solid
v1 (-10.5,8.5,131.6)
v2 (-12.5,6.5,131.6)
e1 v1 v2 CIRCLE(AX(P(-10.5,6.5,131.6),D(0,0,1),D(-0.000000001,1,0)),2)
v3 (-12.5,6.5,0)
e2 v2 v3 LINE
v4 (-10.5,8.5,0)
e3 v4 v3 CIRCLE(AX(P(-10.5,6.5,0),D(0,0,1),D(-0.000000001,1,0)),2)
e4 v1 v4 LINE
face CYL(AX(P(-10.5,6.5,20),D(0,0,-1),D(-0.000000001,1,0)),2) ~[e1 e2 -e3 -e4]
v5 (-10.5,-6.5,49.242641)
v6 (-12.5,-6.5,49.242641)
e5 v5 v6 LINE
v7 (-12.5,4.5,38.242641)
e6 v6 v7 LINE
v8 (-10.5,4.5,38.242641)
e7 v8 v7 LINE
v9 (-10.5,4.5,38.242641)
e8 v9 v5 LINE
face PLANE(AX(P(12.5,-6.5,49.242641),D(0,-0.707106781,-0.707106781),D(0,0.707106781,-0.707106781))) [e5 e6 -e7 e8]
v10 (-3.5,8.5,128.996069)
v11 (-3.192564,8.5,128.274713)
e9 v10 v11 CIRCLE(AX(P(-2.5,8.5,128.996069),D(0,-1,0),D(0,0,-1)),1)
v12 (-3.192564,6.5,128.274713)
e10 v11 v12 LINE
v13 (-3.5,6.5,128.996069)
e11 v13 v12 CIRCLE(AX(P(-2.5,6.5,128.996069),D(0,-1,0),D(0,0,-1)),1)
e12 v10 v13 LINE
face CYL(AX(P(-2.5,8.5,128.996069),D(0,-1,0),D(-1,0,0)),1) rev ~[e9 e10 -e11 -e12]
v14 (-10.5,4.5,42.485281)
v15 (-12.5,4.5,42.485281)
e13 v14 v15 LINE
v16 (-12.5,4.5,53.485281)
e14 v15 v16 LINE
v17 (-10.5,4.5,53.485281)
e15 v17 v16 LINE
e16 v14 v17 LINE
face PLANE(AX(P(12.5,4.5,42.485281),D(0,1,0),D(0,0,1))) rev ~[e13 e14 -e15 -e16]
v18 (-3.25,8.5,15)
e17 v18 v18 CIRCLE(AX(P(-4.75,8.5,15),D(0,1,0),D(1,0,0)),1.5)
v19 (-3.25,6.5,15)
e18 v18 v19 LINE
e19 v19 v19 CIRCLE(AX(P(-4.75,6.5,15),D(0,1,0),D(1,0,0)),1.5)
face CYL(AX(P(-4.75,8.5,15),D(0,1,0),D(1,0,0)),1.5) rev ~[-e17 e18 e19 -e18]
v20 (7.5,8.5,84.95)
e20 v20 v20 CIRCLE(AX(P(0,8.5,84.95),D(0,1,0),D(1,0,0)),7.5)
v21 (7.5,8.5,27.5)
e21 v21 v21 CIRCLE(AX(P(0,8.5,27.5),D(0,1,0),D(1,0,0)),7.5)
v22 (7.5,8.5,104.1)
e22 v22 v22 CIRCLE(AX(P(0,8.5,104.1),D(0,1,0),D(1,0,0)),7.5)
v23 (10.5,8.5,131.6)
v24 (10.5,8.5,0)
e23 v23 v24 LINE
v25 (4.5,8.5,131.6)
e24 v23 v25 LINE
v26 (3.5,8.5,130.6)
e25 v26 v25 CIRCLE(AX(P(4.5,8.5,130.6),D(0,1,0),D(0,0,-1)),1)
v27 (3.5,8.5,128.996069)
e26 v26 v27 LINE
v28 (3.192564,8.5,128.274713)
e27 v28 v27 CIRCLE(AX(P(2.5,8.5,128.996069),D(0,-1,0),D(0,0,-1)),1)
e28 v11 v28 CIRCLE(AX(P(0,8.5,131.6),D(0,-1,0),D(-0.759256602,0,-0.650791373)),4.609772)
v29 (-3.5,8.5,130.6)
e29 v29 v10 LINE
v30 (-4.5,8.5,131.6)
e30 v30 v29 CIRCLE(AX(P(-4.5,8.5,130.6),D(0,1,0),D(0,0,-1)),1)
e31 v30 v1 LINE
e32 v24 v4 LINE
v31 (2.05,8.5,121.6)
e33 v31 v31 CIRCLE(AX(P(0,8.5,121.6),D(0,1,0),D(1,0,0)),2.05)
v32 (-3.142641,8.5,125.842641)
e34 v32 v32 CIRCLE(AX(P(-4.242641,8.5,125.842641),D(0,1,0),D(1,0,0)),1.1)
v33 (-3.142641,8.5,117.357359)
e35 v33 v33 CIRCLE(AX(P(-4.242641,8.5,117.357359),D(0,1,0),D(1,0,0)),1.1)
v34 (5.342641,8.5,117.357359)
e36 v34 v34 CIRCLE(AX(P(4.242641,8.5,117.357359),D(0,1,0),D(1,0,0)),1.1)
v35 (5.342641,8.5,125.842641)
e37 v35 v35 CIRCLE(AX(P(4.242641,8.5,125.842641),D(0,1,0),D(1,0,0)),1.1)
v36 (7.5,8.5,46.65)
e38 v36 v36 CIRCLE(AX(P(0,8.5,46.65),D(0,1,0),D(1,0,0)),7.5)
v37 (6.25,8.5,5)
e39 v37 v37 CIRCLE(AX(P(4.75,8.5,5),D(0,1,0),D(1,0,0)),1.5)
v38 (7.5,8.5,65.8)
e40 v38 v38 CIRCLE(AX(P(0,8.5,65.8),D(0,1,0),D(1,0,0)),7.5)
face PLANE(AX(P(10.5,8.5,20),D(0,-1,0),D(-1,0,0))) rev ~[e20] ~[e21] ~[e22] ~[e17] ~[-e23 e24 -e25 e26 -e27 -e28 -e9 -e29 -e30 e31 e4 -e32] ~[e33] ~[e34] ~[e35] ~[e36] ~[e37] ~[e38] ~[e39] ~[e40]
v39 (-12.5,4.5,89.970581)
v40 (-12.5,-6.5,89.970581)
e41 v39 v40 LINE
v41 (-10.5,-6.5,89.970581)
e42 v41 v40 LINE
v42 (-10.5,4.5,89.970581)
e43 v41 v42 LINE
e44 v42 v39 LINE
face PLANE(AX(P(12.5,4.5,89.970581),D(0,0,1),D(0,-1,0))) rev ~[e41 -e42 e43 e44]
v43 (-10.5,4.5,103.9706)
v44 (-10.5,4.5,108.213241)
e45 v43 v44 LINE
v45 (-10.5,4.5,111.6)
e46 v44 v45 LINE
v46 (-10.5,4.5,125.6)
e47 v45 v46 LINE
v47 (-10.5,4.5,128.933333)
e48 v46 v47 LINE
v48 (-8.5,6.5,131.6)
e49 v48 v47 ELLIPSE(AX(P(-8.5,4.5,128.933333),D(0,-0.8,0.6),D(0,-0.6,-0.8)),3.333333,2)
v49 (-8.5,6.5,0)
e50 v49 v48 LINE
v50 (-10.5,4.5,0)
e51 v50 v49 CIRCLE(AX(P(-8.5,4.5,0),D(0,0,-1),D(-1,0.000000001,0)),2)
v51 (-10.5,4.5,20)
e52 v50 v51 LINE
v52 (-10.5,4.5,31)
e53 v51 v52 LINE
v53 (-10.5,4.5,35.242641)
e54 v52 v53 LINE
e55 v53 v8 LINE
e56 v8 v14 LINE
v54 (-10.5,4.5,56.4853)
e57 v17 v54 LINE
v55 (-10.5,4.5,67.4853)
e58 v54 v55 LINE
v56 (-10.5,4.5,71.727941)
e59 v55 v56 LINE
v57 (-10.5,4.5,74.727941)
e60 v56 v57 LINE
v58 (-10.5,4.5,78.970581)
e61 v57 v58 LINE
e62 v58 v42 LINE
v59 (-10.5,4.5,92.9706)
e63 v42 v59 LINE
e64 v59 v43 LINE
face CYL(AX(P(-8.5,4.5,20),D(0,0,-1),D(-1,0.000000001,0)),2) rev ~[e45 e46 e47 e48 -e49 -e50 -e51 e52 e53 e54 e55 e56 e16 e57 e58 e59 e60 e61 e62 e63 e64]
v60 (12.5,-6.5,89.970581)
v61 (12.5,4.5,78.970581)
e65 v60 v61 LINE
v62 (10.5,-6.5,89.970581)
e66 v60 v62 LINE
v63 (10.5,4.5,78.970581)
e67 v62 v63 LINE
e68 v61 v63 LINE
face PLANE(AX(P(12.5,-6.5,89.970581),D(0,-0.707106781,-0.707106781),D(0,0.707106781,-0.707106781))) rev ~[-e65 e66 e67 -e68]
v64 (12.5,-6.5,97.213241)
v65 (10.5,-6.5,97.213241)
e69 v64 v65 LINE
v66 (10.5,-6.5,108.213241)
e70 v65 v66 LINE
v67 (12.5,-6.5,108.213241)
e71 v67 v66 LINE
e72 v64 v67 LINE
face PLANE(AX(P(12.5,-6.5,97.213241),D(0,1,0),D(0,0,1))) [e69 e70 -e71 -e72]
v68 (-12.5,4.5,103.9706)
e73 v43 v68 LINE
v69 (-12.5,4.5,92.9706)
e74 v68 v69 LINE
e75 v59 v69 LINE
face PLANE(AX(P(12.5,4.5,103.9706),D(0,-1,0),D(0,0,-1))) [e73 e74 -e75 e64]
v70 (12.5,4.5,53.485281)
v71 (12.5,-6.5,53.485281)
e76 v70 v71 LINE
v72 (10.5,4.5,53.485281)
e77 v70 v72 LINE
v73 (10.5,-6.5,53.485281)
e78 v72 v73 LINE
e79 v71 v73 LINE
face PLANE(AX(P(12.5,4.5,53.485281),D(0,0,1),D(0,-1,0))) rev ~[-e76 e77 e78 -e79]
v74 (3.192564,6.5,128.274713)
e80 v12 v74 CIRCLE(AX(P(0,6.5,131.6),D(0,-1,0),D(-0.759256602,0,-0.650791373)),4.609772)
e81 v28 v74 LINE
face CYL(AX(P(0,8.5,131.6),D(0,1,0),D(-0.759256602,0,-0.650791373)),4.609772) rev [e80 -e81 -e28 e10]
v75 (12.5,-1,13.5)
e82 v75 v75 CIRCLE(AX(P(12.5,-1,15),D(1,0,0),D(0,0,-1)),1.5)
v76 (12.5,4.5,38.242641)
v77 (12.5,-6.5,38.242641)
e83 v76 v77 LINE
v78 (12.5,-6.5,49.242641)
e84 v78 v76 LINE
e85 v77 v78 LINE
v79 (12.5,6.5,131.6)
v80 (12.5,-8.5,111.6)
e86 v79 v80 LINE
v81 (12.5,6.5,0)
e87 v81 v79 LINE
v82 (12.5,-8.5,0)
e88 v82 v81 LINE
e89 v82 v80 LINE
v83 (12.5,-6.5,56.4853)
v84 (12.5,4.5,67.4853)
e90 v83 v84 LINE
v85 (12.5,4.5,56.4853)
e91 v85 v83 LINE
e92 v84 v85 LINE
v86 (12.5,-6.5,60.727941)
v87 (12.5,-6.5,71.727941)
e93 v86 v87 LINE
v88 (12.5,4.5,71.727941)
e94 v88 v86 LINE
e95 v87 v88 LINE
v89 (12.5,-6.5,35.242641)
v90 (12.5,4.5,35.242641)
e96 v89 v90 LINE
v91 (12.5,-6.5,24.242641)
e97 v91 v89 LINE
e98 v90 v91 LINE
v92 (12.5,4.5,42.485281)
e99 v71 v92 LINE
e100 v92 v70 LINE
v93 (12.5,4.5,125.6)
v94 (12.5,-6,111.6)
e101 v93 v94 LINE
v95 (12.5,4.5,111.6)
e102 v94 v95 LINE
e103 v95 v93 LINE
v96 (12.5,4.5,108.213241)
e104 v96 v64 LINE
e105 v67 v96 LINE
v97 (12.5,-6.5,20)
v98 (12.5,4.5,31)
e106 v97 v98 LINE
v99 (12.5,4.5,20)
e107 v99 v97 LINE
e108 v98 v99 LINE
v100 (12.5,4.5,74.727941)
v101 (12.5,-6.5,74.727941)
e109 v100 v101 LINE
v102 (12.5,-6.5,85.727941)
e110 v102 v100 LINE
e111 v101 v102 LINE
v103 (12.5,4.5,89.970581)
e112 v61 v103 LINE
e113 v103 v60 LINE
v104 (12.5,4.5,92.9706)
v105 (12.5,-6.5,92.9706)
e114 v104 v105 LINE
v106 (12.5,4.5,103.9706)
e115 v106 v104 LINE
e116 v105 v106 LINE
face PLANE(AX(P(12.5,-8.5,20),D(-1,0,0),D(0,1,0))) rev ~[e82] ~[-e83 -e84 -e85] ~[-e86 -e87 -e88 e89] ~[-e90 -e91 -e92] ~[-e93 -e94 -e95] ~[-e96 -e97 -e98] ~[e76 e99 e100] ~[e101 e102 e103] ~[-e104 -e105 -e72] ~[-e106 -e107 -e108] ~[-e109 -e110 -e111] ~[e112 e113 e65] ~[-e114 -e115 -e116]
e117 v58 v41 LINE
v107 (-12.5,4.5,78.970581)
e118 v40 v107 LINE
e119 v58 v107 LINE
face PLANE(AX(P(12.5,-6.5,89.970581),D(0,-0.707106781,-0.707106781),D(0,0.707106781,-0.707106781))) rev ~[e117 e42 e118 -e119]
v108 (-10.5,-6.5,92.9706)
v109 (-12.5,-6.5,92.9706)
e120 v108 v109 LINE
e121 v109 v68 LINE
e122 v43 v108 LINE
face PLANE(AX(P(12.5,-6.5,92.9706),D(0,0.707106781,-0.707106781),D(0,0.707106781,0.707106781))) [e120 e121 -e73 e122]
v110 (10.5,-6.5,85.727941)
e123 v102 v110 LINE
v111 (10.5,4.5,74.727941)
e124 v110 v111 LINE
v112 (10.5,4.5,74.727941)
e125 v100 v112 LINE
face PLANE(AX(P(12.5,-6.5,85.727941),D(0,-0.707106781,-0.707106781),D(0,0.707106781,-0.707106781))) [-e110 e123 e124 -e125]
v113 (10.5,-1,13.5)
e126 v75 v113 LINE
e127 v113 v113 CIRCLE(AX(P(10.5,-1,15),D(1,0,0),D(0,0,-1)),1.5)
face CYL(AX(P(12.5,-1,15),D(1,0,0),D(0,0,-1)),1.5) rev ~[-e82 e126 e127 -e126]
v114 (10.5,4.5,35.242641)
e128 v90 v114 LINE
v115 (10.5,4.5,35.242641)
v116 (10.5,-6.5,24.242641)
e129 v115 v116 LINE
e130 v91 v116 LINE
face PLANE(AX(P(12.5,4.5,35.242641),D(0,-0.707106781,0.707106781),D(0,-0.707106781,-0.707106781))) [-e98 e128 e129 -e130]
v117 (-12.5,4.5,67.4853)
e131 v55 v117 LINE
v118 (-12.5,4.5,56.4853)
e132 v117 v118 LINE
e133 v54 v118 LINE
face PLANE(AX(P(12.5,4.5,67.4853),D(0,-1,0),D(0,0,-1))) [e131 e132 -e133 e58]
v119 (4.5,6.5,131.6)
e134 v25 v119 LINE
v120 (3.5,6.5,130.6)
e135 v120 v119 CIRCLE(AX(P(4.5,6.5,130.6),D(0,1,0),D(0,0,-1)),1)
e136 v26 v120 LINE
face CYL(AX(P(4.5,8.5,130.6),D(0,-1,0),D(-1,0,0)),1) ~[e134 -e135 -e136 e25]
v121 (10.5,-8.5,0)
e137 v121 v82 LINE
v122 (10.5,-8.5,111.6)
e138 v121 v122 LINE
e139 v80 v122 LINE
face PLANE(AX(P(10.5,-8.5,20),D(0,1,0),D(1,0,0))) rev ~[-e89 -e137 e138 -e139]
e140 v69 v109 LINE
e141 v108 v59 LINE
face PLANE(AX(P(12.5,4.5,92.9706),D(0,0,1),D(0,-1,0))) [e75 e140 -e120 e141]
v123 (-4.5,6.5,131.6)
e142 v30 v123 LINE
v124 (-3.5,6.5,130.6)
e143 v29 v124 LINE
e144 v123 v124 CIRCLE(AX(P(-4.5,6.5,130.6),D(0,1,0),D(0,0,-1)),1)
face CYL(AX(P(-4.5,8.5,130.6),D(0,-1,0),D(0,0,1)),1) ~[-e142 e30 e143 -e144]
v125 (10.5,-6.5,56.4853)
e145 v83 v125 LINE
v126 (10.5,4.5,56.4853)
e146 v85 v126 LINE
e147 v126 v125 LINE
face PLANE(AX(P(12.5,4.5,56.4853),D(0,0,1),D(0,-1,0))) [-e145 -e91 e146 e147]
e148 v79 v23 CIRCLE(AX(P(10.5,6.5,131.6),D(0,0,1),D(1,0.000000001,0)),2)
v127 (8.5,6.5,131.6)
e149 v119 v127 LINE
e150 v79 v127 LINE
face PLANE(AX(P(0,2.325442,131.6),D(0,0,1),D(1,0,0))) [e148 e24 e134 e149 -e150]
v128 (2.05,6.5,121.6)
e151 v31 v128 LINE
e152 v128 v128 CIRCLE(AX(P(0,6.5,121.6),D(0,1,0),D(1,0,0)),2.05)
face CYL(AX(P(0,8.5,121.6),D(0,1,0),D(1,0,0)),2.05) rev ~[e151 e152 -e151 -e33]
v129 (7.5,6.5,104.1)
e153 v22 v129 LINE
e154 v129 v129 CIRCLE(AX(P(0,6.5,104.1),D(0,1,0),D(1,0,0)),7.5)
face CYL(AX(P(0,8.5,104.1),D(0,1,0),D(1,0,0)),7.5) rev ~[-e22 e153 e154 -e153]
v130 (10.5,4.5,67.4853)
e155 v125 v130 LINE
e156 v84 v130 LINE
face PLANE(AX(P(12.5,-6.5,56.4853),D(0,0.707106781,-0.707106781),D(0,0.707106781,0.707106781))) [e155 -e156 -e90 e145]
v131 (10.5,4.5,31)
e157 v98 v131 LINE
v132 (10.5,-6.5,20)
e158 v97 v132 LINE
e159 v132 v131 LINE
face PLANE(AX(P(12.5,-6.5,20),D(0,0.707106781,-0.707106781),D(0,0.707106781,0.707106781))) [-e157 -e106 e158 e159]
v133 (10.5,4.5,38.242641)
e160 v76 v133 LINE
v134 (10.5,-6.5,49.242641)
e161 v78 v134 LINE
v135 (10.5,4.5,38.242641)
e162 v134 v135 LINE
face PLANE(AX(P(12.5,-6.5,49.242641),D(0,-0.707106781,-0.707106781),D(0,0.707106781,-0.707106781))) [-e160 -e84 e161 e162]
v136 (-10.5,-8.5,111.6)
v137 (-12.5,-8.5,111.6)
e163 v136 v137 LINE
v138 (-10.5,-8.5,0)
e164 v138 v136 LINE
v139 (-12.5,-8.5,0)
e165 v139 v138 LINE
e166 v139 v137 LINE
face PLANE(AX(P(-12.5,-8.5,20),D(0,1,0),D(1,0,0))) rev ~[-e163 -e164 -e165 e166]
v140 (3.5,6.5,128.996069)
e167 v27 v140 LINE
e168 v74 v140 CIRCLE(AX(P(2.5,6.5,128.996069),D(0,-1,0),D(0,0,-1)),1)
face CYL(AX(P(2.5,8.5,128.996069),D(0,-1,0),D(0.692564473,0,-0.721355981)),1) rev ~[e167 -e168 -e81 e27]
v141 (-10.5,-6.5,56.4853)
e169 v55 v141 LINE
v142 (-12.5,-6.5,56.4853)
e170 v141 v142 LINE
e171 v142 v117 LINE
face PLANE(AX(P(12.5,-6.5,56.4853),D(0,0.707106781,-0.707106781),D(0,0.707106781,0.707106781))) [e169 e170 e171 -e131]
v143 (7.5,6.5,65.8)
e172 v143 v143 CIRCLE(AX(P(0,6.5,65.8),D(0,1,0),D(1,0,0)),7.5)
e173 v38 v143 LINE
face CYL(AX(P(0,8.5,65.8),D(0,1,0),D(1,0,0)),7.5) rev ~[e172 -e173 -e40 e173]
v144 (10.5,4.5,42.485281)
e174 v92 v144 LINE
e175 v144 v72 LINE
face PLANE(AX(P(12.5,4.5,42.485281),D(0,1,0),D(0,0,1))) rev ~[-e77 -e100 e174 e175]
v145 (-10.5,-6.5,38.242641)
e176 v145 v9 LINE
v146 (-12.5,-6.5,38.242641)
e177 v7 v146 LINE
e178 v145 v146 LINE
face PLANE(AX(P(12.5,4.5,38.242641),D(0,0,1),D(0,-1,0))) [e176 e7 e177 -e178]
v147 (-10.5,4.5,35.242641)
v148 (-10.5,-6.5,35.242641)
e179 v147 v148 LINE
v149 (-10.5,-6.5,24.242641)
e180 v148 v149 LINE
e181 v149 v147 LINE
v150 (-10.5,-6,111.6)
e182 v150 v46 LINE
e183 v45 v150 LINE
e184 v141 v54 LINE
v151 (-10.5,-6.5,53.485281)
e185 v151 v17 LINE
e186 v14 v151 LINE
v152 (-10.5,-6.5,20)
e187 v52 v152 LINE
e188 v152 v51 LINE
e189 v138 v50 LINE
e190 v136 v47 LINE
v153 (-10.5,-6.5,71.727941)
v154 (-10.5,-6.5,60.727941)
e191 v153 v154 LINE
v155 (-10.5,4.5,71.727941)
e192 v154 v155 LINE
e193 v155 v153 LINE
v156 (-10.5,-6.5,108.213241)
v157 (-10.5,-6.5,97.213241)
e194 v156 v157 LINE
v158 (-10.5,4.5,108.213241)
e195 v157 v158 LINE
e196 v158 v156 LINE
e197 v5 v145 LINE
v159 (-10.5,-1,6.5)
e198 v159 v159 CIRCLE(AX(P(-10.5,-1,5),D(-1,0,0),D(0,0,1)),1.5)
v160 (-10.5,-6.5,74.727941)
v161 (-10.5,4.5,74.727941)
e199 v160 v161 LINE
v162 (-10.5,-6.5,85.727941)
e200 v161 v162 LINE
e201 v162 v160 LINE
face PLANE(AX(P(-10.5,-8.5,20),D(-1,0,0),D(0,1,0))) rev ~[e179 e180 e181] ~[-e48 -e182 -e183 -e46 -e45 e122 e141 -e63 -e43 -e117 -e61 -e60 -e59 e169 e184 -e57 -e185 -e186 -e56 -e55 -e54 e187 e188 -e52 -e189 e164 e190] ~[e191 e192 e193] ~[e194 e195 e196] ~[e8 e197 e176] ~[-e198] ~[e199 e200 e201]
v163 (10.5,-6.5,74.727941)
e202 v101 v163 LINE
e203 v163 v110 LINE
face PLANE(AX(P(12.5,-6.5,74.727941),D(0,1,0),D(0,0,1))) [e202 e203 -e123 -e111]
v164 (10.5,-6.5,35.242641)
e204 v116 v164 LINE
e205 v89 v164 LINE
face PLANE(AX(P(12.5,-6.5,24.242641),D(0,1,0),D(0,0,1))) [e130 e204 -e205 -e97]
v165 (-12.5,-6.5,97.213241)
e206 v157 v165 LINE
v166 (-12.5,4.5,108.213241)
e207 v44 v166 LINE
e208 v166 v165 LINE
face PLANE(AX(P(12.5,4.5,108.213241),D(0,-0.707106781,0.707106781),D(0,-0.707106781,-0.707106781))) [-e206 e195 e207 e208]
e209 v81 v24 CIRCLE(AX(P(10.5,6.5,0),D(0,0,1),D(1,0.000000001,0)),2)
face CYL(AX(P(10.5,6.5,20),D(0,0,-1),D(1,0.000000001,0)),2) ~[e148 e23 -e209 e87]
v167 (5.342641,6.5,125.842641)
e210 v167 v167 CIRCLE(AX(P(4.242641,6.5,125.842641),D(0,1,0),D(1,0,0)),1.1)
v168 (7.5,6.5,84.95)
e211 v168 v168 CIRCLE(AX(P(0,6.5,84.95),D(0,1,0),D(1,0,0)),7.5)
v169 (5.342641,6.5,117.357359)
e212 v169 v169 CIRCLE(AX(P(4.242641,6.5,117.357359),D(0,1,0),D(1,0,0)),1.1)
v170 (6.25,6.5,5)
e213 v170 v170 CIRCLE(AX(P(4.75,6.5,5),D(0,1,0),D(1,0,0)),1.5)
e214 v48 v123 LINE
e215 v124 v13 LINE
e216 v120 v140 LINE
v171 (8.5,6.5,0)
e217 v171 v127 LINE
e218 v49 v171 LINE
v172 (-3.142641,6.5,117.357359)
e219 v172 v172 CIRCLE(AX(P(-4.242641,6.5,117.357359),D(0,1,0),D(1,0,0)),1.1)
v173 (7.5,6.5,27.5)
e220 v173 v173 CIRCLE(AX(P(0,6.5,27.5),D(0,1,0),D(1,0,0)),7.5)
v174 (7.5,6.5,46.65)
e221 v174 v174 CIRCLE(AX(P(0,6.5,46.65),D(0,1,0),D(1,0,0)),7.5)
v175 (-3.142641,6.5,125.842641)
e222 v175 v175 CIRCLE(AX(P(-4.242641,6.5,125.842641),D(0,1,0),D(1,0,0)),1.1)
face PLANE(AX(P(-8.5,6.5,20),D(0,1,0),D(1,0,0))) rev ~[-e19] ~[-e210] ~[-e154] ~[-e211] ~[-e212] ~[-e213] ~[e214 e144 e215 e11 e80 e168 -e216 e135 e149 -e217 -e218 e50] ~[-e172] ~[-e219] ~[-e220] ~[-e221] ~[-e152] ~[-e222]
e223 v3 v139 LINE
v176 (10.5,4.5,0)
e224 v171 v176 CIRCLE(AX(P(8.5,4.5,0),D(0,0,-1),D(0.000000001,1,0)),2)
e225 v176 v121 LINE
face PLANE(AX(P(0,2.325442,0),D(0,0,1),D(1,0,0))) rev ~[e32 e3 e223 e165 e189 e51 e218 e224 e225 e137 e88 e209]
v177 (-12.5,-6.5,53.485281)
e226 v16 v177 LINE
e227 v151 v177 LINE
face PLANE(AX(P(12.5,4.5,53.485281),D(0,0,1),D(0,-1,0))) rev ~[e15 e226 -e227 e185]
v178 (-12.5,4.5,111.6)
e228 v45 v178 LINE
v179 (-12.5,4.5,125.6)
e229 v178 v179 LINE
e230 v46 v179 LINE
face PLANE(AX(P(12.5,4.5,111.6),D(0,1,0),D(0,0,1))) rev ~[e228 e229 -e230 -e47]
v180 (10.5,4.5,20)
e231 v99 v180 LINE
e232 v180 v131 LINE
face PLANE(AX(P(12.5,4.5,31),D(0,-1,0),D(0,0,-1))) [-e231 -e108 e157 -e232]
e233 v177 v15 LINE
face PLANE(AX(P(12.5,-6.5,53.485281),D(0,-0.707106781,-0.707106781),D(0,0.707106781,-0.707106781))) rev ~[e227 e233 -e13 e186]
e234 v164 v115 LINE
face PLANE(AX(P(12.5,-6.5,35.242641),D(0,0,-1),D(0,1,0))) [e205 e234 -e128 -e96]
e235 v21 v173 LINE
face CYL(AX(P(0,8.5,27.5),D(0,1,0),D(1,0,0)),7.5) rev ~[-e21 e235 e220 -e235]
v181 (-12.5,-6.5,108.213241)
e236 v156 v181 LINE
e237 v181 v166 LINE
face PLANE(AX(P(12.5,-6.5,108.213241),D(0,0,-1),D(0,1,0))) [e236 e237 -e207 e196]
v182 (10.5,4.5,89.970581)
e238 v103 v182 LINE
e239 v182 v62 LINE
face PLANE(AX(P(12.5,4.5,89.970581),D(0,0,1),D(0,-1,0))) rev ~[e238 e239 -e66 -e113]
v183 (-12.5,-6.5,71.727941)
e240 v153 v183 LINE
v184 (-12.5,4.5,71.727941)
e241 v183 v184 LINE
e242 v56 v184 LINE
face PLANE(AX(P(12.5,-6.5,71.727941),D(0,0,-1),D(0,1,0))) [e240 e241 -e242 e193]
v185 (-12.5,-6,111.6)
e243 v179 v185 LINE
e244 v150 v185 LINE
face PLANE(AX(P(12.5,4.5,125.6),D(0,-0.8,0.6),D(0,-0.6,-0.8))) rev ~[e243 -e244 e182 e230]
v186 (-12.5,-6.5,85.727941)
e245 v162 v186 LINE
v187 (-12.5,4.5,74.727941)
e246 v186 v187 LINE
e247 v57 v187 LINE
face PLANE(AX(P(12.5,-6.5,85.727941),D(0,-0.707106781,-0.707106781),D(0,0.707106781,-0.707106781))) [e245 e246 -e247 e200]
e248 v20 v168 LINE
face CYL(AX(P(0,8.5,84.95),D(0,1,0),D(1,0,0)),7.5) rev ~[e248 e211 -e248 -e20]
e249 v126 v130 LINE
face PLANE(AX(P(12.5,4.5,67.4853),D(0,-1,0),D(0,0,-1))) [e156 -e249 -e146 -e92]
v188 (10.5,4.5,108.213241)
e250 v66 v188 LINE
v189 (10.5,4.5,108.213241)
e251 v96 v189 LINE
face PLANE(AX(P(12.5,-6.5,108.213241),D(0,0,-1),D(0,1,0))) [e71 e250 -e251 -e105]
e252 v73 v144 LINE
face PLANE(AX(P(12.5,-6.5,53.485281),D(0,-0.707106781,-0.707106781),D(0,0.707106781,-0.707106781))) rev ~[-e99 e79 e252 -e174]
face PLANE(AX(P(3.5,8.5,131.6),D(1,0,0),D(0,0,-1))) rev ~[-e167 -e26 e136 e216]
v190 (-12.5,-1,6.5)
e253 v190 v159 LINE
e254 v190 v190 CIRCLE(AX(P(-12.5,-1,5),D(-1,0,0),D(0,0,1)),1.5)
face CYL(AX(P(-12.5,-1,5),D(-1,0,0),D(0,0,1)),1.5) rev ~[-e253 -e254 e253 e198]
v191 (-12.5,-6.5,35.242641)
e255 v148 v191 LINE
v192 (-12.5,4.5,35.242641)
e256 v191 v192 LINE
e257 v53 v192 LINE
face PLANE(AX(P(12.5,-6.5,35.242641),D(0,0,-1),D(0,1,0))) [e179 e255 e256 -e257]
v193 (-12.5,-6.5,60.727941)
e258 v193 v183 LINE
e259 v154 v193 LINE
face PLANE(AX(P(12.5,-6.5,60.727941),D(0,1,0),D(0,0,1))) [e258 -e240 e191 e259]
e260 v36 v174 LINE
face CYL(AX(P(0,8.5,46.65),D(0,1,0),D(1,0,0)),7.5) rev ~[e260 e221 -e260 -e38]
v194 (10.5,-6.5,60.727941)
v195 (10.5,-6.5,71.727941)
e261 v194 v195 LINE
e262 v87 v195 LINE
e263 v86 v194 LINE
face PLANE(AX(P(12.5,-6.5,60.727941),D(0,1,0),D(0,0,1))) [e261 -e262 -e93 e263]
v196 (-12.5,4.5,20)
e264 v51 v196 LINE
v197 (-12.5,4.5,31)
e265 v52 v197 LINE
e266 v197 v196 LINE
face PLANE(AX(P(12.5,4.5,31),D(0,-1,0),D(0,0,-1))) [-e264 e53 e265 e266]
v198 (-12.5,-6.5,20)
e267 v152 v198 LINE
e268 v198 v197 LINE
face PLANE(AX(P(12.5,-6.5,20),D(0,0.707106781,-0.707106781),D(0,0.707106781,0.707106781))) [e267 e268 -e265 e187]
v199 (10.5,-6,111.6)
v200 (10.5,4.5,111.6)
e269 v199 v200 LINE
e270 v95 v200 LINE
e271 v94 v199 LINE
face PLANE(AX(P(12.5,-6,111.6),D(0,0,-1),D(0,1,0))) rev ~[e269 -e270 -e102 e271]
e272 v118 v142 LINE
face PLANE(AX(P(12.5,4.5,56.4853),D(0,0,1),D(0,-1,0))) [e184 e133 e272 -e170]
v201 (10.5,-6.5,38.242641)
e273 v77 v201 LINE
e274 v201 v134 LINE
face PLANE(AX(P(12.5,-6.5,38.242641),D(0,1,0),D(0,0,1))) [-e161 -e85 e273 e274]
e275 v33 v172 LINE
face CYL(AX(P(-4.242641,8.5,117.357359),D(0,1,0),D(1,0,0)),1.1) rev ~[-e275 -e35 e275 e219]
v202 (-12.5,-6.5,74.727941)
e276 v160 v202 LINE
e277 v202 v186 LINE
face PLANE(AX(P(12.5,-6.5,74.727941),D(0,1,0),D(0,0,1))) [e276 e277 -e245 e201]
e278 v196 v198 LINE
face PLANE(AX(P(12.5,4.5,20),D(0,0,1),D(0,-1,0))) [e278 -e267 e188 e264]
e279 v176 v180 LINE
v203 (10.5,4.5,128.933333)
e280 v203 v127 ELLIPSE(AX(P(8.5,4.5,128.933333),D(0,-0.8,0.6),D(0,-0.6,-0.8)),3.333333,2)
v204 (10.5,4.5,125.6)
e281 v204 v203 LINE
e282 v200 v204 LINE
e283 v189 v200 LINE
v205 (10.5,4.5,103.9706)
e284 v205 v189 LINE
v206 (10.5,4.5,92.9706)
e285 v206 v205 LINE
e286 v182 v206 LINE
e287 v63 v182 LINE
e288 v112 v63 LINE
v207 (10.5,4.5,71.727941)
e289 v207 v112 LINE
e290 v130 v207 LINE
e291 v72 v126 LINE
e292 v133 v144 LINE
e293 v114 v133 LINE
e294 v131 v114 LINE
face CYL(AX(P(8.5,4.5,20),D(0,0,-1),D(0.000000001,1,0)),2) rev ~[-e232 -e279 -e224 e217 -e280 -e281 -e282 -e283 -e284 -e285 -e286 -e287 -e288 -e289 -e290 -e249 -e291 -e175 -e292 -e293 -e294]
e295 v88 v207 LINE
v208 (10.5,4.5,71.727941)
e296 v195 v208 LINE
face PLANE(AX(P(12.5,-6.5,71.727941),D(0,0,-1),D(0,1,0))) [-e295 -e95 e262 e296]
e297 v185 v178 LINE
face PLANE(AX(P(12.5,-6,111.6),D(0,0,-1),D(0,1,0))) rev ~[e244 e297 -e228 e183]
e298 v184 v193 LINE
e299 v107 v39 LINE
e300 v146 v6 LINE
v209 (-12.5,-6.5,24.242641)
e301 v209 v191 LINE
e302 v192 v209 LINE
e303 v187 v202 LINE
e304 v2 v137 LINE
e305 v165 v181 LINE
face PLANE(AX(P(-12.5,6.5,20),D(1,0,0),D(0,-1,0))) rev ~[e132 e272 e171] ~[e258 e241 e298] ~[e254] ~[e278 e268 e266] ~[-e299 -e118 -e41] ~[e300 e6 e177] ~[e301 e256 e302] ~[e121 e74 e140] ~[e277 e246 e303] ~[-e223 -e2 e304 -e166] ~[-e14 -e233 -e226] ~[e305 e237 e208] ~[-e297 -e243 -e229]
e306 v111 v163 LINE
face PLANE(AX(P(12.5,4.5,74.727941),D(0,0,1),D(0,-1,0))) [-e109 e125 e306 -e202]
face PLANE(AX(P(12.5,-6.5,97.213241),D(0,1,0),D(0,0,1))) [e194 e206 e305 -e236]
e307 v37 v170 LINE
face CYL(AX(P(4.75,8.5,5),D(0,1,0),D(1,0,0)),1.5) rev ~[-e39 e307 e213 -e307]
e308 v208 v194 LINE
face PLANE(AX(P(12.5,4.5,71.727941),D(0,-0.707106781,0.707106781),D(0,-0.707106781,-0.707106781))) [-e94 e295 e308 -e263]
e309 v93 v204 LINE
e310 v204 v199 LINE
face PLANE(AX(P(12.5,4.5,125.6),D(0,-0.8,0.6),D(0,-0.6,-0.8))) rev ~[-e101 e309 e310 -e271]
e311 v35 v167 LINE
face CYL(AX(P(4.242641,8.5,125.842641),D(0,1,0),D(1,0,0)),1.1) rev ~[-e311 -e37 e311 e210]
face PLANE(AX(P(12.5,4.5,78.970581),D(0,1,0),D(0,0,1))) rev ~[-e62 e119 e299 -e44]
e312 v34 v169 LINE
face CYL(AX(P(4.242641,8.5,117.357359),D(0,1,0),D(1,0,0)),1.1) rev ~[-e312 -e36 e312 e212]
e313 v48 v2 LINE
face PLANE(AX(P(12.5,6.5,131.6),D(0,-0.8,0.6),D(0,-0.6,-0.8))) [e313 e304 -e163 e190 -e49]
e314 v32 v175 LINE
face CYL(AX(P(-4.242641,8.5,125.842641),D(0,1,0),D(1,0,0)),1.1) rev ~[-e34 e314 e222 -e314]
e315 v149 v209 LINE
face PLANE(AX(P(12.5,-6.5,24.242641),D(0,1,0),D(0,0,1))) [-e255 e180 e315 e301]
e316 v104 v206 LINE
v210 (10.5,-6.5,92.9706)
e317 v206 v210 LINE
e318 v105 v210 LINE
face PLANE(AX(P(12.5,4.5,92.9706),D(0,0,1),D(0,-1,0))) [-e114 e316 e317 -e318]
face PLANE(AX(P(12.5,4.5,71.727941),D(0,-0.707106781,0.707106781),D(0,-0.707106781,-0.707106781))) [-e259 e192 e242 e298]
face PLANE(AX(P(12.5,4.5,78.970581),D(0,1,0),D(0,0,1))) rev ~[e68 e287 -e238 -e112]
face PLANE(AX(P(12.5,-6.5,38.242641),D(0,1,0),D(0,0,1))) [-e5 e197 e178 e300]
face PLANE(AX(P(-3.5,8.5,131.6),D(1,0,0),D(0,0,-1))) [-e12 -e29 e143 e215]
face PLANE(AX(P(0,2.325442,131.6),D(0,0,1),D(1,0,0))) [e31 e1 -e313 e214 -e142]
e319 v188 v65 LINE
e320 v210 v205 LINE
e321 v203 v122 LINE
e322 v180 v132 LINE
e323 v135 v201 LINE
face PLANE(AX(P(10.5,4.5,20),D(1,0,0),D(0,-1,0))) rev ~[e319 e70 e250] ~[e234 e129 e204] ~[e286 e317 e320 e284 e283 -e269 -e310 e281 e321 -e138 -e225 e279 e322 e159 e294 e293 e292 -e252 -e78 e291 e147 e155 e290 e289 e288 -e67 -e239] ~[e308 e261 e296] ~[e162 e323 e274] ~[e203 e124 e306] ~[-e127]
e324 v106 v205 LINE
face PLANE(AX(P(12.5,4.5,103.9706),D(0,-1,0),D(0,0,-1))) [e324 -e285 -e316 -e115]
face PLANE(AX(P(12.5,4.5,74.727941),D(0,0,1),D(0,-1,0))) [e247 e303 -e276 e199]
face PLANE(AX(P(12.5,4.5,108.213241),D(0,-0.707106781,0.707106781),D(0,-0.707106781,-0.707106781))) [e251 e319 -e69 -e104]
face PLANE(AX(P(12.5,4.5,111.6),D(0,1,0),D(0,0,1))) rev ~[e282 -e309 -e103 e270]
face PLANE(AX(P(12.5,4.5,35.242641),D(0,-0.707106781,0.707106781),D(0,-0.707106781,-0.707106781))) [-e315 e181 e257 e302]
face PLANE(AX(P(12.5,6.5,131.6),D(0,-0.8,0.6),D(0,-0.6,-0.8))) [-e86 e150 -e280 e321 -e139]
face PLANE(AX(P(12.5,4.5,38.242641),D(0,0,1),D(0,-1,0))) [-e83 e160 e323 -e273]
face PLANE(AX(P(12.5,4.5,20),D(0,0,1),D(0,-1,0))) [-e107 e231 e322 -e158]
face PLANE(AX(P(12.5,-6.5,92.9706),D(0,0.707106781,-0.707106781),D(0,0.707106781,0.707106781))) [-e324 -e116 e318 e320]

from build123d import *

# Parameters (mm, degrees)
BOSS_EXTRUDE1_DEPTH     = 20
SKETCH3_R               = 1.5
CUT_EXTRUDE1_DEPTH      = 1
CUT_EXTRUDE1_DEPTH_BACK = 2
SKETCH17_R              = 1.5
CUT_EXTRUDE13_DEPTH     = 2
SKETCH4_R               = 1.5
CUT_EXTRUDE2_DEPTH      = 1
CUT_EXTRUDE2_DEPTH_BACK = 18
BOSS_EXTRUDE2_DEPTH     = 111.6
SKETCH7_R               = 7.5
CUT_EXTRUDE3_DEPTH      = 18
LPATTERN1_COUNT         = 5
LPATTERN1_PITCH         = 19.15
SKETCH8_R               = 1.1
CUT_EXTRUDE4_DEPTH      = 18
CUT_EXTRUDE6_DEPTH      = 26
CUT_EXTRUDE7_DEPTH      = 26
CUT_EXTRUDE8_DEPTH      = 26
CUT_EXTRUDE9_DEPTH      = 26
CUT_EXTRUDE10_DEPTH     = 26
LPATTERN2_COUNT         = 3
LPATTERN2_PITCH         = 36.4853
LPATTERN3_COUNT         = 3
LPATTERN3_PITCH         = 36.4853
LPATTERN4_COUNT         = 2
LPATTERN4_PITCH         = 36.4853
LPATTERN5_COUNT         = 2
LPATTERN5_PITCH         = 36.4853
CUT_EXTRUDE11_DEPTH     = 26
SKETCH16_R              = 2.05
CUT_EXTRUDE12_DEPTH     = 18
SKETCH18_W              = 7
SKETCH18_H              = 3
CUT_EXTRUDE14_DEPTH     = 2
FILLET1_R               = 1


with BuildPart() as part:
    # Sketch1 → Boss-Extrude1 (new body)
    with BuildSketch(Plane.XY):
        with BuildLine():
            Line((-12.5, -8.5), (-10.5, -8.5))
            Line((-10.5, -8.5), (-10.5, 4.5))
            ThreePointArc((-10.5, 4.5), (-9.914213562, 5.914213562), (-8.5, 6.5))
            Line((-8.5, 6.5), (8.5, 6.5))
            ThreePointArc((8.5, 6.5), (9.914213562, 5.914213562), (10.5, 4.5))
            Line((10.5, 4.5), (10.5, -8.5))
            Line((10.5, -8.5), (12.5, -8.5))
            Line((12.5, -8.5), (12.5, 6.5))
            ThreePointArc((12.5, 6.5), (11.914213562, 7.914213562), (10.5, 8.5))
            Line((10.5, 8.5), (-10.5, 8.5))
            ThreePointArc((-10.5, 8.5), (-11.914213562, 7.914213562), (-12.5, 6.5))
            Line((-12.5, 6.5), (-12.5, -8.5))
        make_face()
    extrude(amount=BOSS_EXTRUDE1_DEPTH)

    # Sketch3 → Cut-Extrude1 (cut, two sides)
    with BuildSketch(Plane(origin=(12.5, 0, 0), x_dir=(0, 0, -1), z_dir=(1, 0, 0))) as cut_extrude1_sk:
        with Locations((-15, -1)):
            Circle(SKETCH3_R)
    extrude(amount=CUT_EXTRUDE1_DEPTH, mode=Mode.SUBTRACT)
    extrude(cut_extrude1_sk.sketch, amount=-CUT_EXTRUDE1_DEPTH_BACK, mode=Mode.SUBTRACT)

    # Sketch17 → Cut-Extrude13 (cut)
    with BuildSketch(Plane.ZY.offset(12.5)):
        with Locations((5, -1)):
            Circle(SKETCH17_R)
    extrude(amount=-CUT_EXTRUDE13_DEPTH, mode=Mode.SUBTRACT)

    # Sketch4 → Cut-Extrude2 (cut, two sides)
    with BuildSketch(Plane(origin=(0, 8.5, 0), x_dir=(1, 0, 0), z_dir=(0, 1, 0))) as cut_extrude2_sk:
        with Locations((-4.75, -15)):
            Circle(SKETCH4_R)
        with Locations((4.75, -5)):
            Circle(SKETCH4_R)
    extrude(amount=CUT_EXTRUDE2_DEPTH, mode=Mode.SUBTRACT)
    extrude(cut_extrude2_sk.sketch, amount=-CUT_EXTRUDE2_DEPTH_BACK, mode=Mode.SUBTRACT)

    # Sketch6 → Boss-Extrude2 (add)
    with BuildSketch(Plane.XY.offset(20)):
        with BuildLine():
            Line((-12.5, 6.5), (-12.5, -8.5))
            Line((-12.5, -8.5), (-10.5, -8.5))
            Line((-10.5, -8.5), (-10.5, 4.5))
            ThreePointArc((-10.5, 4.5), (-9.914213562, 5.914213562), (-8.5, 6.5))
            Line((-8.5, 6.5), (8.5, 6.5))
            ThreePointArc((8.5, 6.5), (9.914213562, 5.914213562), (10.5, 4.5))
            Line((10.5, 4.5), (10.5, -8.5))
            Line((10.5, -8.5), (12.5, -8.5))
            Line((12.5, -8.5), (12.5, 6.5))
            ThreePointArc((12.5, 6.5), (11.914213562, 7.914213562), (10.5, 8.5))
            Line((10.5, 8.5), (-10.5, 8.5))
            ThreePointArc((-10.5, 8.5), (-11.914213562, 7.914213562), (-12.5, 6.5))
        make_face()
    extrude(amount=BOSS_EXTRUDE2_DEPTH)

    # Sketch7 → Cut-Extrude3 (cut, through all)
    with BuildSketch(Plane(origin=(0, 8.5, 0), x_dir=(1, 0, 0), z_dir=(0, 1, 0))):
        with Locations((0, -104.1)):
            Circle(SKETCH7_R)
    cut_extrude3 = extrude(amount=-CUT_EXTRUDE3_DEPTH, mode=Mode.SUBTRACT)

    # LPattern1: Cut-Extrude3 ×5
    with Locations(*[(0, 0, -i * LPATTERN1_PITCH) for i in range(1, LPATTERN1_COUNT)]):
        add(cut_extrude3, mode=Mode.SUBTRACT)

    # Sketch8 → Cut-Extrude4 (cut, through all)
    with BuildSketch(Plane(origin=(0, 8.5, 0), x_dir=(1, 0, 0), z_dir=(0, 1, 0))):
        with Locations((4.242640687, -117.357359313)):
            Circle(SKETCH8_R)
        with Locations((4.242640687, -125.842640687)):
            Circle(SKETCH8_R)
        with Locations((-4.242640687, -125.842640687)):
            Circle(SKETCH8_R)
        with Locations((-4.242640687, -117.357359313)):
            Circle(SKETCH8_R)
    extrude(amount=-CUT_EXTRUDE4_DEPTH, mode=Mode.SUBTRACT)

    # Sketch9 → Cut-Extrude6 (cut, through all)
    with BuildSketch(Plane(origin=(12.5, 0, 0), x_dir=(0, 0, -1), z_dir=(1, 0, 0))):
        Polygon((-131.6, 6.5), (-111.6, -8.5), (-131.6, -8.5), align=None)
    extrude(amount=-CUT_EXTRUDE6_DEPTH, mode=Mode.SUBTRACT)

    # Sketch10 → Cut-Extrude7 (cut, through all)
    with BuildSketch(Plane(origin=(12.5, 0, 0), x_dir=(0, 0, -1), z_dir=(1, 0, 0))):
        Polygon((-31, 4.5), (-20, 4.5), (-20, -6.5), align=None)
    cut_extrude7 = extrude(amount=-CUT_EXTRUDE7_DEPTH, mode=Mode.SUBTRACT)

    # Sketch11 → Cut-Extrude8 (cut, through all)
    with BuildSketch(Plane(origin=(12.5, 0, 0), x_dir=(0, 0, -1), z_dir=(1, 0, 0))):
        Polygon((-35.242640687, 4.5), (-24.242640687, -6.5), (-35.242640687, -6.5), align=None)
    cut_extrude8 = extrude(amount=-CUT_EXTRUDE8_DEPTH, mode=Mode.SUBTRACT)

    # Sketch12 → Cut-Extrude9 (cut, through all)
    with BuildSketch(Plane(origin=(12.5, 0, 0), x_dir=(0, 0, -1), z_dir=(1, 0, 0))):
        Polygon((-38.242640687, 4.5), (-38.242640687, -6.5), (-49.242640687, -6.5), align=None)
    cut_extrude9 = extrude(amount=-CUT_EXTRUDE9_DEPTH, mode=Mode.SUBTRACT)

    # Sketch13 → Cut-Extrude10 (cut, through all)
    with BuildSketch(Plane(origin=(12.5, 0, 0), x_dir=(0, 0, -1), z_dir=(1, 0, 0))):
        Polygon((-53.485281374, -6.5), (-42.485281374, 4.5), (-53.485281374, 4.5), align=None)
    cut_extrude10 = extrude(amount=-CUT_EXTRUDE10_DEPTH, mode=Mode.SUBTRACT)

    # LPattern2: Cut-Extrude7 ×3
    with Locations(*[(0, 0, i * LPATTERN2_PITCH) for i in range(1, LPATTERN2_COUNT)]):
        add(cut_extrude7, mode=Mode.SUBTRACT)

    # LPattern3: Cut-Extrude8 ×3
    with Locations(*[(0, 0, i * LPATTERN3_PITCH) for i in range(1, LPATTERN3_COUNT)]):
        add(cut_extrude8, mode=Mode.SUBTRACT)

    # LPattern4: Cut-Extrude9 ×2
    with Locations(*[(0, 0, i * LPATTERN4_PITCH) for i in range(1, LPATTERN4_COUNT)]):
        add(cut_extrude9, mode=Mode.SUBTRACT)

    # LPattern5: Cut-Extrude10 ×2
    with Locations(*[(0, 0, i * LPATTERN5_PITCH) for i in range(1, LPATTERN5_COUNT)]):
        add(cut_extrude10, mode=Mode.SUBTRACT)

    # Sketch14 → Cut-Extrude11 (cut, through all)
    with BuildSketch(Plane(origin=(12.5, 0, 0), x_dir=(0, 0, -1), z_dir=(1, 0, 0))):
        Polygon((-111.6, -6), (-111.6, 4.5), (-125.6, 4.5), align=None)
    extrude(amount=-CUT_EXTRUDE11_DEPTH, mode=Mode.SUBTRACT)

    # Sketch16 → Cut-Extrude12 (cut, through all)
    with BuildSketch(Plane(origin=(0, 8.5, 0), x_dir=(1, 0, 0), z_dir=(0, 1, 0))):
        with Locations((0, -121.6)):
            Circle(SKETCH16_R)
    extrude(amount=-CUT_EXTRUDE12_DEPTH, mode=Mode.SUBTRACT)

    # Sketch18 → Cut-Extrude14 (cut)
    with BuildSketch(Plane(origin=(0, 8.5, 0), x_dir=(1, 0, 0), z_dir=(0, 1, 0))):
        with BuildLine():
            ThreePointArc((-3.5, -128.6), (0, -126.990227771), (3.5, -128.6))
            Line((3.5, -128.6), (-3.5, -128.6))
        make_face()
        with Locations((0, -130.1)):
            Rectangle(SKETCH18_W, SKETCH18_H)
    extrude(amount=-CUT_EXTRUDE14_DEPTH, mode=Mode.SUBTRACT)

    # Fillet1
    fillet1_edges = [part.edges().sort_by_distance(p)[0] for p in [
        (-3.5, 7.5, 131.6),
        (3.5, 7.5, 131.6),
        (3.5, 7.5, 128.6),
        (-3.5, 7.5, 128.6),
    ]]
    fillet(fillet1_edges, radius=FILLET1_R)


solid = part.part
